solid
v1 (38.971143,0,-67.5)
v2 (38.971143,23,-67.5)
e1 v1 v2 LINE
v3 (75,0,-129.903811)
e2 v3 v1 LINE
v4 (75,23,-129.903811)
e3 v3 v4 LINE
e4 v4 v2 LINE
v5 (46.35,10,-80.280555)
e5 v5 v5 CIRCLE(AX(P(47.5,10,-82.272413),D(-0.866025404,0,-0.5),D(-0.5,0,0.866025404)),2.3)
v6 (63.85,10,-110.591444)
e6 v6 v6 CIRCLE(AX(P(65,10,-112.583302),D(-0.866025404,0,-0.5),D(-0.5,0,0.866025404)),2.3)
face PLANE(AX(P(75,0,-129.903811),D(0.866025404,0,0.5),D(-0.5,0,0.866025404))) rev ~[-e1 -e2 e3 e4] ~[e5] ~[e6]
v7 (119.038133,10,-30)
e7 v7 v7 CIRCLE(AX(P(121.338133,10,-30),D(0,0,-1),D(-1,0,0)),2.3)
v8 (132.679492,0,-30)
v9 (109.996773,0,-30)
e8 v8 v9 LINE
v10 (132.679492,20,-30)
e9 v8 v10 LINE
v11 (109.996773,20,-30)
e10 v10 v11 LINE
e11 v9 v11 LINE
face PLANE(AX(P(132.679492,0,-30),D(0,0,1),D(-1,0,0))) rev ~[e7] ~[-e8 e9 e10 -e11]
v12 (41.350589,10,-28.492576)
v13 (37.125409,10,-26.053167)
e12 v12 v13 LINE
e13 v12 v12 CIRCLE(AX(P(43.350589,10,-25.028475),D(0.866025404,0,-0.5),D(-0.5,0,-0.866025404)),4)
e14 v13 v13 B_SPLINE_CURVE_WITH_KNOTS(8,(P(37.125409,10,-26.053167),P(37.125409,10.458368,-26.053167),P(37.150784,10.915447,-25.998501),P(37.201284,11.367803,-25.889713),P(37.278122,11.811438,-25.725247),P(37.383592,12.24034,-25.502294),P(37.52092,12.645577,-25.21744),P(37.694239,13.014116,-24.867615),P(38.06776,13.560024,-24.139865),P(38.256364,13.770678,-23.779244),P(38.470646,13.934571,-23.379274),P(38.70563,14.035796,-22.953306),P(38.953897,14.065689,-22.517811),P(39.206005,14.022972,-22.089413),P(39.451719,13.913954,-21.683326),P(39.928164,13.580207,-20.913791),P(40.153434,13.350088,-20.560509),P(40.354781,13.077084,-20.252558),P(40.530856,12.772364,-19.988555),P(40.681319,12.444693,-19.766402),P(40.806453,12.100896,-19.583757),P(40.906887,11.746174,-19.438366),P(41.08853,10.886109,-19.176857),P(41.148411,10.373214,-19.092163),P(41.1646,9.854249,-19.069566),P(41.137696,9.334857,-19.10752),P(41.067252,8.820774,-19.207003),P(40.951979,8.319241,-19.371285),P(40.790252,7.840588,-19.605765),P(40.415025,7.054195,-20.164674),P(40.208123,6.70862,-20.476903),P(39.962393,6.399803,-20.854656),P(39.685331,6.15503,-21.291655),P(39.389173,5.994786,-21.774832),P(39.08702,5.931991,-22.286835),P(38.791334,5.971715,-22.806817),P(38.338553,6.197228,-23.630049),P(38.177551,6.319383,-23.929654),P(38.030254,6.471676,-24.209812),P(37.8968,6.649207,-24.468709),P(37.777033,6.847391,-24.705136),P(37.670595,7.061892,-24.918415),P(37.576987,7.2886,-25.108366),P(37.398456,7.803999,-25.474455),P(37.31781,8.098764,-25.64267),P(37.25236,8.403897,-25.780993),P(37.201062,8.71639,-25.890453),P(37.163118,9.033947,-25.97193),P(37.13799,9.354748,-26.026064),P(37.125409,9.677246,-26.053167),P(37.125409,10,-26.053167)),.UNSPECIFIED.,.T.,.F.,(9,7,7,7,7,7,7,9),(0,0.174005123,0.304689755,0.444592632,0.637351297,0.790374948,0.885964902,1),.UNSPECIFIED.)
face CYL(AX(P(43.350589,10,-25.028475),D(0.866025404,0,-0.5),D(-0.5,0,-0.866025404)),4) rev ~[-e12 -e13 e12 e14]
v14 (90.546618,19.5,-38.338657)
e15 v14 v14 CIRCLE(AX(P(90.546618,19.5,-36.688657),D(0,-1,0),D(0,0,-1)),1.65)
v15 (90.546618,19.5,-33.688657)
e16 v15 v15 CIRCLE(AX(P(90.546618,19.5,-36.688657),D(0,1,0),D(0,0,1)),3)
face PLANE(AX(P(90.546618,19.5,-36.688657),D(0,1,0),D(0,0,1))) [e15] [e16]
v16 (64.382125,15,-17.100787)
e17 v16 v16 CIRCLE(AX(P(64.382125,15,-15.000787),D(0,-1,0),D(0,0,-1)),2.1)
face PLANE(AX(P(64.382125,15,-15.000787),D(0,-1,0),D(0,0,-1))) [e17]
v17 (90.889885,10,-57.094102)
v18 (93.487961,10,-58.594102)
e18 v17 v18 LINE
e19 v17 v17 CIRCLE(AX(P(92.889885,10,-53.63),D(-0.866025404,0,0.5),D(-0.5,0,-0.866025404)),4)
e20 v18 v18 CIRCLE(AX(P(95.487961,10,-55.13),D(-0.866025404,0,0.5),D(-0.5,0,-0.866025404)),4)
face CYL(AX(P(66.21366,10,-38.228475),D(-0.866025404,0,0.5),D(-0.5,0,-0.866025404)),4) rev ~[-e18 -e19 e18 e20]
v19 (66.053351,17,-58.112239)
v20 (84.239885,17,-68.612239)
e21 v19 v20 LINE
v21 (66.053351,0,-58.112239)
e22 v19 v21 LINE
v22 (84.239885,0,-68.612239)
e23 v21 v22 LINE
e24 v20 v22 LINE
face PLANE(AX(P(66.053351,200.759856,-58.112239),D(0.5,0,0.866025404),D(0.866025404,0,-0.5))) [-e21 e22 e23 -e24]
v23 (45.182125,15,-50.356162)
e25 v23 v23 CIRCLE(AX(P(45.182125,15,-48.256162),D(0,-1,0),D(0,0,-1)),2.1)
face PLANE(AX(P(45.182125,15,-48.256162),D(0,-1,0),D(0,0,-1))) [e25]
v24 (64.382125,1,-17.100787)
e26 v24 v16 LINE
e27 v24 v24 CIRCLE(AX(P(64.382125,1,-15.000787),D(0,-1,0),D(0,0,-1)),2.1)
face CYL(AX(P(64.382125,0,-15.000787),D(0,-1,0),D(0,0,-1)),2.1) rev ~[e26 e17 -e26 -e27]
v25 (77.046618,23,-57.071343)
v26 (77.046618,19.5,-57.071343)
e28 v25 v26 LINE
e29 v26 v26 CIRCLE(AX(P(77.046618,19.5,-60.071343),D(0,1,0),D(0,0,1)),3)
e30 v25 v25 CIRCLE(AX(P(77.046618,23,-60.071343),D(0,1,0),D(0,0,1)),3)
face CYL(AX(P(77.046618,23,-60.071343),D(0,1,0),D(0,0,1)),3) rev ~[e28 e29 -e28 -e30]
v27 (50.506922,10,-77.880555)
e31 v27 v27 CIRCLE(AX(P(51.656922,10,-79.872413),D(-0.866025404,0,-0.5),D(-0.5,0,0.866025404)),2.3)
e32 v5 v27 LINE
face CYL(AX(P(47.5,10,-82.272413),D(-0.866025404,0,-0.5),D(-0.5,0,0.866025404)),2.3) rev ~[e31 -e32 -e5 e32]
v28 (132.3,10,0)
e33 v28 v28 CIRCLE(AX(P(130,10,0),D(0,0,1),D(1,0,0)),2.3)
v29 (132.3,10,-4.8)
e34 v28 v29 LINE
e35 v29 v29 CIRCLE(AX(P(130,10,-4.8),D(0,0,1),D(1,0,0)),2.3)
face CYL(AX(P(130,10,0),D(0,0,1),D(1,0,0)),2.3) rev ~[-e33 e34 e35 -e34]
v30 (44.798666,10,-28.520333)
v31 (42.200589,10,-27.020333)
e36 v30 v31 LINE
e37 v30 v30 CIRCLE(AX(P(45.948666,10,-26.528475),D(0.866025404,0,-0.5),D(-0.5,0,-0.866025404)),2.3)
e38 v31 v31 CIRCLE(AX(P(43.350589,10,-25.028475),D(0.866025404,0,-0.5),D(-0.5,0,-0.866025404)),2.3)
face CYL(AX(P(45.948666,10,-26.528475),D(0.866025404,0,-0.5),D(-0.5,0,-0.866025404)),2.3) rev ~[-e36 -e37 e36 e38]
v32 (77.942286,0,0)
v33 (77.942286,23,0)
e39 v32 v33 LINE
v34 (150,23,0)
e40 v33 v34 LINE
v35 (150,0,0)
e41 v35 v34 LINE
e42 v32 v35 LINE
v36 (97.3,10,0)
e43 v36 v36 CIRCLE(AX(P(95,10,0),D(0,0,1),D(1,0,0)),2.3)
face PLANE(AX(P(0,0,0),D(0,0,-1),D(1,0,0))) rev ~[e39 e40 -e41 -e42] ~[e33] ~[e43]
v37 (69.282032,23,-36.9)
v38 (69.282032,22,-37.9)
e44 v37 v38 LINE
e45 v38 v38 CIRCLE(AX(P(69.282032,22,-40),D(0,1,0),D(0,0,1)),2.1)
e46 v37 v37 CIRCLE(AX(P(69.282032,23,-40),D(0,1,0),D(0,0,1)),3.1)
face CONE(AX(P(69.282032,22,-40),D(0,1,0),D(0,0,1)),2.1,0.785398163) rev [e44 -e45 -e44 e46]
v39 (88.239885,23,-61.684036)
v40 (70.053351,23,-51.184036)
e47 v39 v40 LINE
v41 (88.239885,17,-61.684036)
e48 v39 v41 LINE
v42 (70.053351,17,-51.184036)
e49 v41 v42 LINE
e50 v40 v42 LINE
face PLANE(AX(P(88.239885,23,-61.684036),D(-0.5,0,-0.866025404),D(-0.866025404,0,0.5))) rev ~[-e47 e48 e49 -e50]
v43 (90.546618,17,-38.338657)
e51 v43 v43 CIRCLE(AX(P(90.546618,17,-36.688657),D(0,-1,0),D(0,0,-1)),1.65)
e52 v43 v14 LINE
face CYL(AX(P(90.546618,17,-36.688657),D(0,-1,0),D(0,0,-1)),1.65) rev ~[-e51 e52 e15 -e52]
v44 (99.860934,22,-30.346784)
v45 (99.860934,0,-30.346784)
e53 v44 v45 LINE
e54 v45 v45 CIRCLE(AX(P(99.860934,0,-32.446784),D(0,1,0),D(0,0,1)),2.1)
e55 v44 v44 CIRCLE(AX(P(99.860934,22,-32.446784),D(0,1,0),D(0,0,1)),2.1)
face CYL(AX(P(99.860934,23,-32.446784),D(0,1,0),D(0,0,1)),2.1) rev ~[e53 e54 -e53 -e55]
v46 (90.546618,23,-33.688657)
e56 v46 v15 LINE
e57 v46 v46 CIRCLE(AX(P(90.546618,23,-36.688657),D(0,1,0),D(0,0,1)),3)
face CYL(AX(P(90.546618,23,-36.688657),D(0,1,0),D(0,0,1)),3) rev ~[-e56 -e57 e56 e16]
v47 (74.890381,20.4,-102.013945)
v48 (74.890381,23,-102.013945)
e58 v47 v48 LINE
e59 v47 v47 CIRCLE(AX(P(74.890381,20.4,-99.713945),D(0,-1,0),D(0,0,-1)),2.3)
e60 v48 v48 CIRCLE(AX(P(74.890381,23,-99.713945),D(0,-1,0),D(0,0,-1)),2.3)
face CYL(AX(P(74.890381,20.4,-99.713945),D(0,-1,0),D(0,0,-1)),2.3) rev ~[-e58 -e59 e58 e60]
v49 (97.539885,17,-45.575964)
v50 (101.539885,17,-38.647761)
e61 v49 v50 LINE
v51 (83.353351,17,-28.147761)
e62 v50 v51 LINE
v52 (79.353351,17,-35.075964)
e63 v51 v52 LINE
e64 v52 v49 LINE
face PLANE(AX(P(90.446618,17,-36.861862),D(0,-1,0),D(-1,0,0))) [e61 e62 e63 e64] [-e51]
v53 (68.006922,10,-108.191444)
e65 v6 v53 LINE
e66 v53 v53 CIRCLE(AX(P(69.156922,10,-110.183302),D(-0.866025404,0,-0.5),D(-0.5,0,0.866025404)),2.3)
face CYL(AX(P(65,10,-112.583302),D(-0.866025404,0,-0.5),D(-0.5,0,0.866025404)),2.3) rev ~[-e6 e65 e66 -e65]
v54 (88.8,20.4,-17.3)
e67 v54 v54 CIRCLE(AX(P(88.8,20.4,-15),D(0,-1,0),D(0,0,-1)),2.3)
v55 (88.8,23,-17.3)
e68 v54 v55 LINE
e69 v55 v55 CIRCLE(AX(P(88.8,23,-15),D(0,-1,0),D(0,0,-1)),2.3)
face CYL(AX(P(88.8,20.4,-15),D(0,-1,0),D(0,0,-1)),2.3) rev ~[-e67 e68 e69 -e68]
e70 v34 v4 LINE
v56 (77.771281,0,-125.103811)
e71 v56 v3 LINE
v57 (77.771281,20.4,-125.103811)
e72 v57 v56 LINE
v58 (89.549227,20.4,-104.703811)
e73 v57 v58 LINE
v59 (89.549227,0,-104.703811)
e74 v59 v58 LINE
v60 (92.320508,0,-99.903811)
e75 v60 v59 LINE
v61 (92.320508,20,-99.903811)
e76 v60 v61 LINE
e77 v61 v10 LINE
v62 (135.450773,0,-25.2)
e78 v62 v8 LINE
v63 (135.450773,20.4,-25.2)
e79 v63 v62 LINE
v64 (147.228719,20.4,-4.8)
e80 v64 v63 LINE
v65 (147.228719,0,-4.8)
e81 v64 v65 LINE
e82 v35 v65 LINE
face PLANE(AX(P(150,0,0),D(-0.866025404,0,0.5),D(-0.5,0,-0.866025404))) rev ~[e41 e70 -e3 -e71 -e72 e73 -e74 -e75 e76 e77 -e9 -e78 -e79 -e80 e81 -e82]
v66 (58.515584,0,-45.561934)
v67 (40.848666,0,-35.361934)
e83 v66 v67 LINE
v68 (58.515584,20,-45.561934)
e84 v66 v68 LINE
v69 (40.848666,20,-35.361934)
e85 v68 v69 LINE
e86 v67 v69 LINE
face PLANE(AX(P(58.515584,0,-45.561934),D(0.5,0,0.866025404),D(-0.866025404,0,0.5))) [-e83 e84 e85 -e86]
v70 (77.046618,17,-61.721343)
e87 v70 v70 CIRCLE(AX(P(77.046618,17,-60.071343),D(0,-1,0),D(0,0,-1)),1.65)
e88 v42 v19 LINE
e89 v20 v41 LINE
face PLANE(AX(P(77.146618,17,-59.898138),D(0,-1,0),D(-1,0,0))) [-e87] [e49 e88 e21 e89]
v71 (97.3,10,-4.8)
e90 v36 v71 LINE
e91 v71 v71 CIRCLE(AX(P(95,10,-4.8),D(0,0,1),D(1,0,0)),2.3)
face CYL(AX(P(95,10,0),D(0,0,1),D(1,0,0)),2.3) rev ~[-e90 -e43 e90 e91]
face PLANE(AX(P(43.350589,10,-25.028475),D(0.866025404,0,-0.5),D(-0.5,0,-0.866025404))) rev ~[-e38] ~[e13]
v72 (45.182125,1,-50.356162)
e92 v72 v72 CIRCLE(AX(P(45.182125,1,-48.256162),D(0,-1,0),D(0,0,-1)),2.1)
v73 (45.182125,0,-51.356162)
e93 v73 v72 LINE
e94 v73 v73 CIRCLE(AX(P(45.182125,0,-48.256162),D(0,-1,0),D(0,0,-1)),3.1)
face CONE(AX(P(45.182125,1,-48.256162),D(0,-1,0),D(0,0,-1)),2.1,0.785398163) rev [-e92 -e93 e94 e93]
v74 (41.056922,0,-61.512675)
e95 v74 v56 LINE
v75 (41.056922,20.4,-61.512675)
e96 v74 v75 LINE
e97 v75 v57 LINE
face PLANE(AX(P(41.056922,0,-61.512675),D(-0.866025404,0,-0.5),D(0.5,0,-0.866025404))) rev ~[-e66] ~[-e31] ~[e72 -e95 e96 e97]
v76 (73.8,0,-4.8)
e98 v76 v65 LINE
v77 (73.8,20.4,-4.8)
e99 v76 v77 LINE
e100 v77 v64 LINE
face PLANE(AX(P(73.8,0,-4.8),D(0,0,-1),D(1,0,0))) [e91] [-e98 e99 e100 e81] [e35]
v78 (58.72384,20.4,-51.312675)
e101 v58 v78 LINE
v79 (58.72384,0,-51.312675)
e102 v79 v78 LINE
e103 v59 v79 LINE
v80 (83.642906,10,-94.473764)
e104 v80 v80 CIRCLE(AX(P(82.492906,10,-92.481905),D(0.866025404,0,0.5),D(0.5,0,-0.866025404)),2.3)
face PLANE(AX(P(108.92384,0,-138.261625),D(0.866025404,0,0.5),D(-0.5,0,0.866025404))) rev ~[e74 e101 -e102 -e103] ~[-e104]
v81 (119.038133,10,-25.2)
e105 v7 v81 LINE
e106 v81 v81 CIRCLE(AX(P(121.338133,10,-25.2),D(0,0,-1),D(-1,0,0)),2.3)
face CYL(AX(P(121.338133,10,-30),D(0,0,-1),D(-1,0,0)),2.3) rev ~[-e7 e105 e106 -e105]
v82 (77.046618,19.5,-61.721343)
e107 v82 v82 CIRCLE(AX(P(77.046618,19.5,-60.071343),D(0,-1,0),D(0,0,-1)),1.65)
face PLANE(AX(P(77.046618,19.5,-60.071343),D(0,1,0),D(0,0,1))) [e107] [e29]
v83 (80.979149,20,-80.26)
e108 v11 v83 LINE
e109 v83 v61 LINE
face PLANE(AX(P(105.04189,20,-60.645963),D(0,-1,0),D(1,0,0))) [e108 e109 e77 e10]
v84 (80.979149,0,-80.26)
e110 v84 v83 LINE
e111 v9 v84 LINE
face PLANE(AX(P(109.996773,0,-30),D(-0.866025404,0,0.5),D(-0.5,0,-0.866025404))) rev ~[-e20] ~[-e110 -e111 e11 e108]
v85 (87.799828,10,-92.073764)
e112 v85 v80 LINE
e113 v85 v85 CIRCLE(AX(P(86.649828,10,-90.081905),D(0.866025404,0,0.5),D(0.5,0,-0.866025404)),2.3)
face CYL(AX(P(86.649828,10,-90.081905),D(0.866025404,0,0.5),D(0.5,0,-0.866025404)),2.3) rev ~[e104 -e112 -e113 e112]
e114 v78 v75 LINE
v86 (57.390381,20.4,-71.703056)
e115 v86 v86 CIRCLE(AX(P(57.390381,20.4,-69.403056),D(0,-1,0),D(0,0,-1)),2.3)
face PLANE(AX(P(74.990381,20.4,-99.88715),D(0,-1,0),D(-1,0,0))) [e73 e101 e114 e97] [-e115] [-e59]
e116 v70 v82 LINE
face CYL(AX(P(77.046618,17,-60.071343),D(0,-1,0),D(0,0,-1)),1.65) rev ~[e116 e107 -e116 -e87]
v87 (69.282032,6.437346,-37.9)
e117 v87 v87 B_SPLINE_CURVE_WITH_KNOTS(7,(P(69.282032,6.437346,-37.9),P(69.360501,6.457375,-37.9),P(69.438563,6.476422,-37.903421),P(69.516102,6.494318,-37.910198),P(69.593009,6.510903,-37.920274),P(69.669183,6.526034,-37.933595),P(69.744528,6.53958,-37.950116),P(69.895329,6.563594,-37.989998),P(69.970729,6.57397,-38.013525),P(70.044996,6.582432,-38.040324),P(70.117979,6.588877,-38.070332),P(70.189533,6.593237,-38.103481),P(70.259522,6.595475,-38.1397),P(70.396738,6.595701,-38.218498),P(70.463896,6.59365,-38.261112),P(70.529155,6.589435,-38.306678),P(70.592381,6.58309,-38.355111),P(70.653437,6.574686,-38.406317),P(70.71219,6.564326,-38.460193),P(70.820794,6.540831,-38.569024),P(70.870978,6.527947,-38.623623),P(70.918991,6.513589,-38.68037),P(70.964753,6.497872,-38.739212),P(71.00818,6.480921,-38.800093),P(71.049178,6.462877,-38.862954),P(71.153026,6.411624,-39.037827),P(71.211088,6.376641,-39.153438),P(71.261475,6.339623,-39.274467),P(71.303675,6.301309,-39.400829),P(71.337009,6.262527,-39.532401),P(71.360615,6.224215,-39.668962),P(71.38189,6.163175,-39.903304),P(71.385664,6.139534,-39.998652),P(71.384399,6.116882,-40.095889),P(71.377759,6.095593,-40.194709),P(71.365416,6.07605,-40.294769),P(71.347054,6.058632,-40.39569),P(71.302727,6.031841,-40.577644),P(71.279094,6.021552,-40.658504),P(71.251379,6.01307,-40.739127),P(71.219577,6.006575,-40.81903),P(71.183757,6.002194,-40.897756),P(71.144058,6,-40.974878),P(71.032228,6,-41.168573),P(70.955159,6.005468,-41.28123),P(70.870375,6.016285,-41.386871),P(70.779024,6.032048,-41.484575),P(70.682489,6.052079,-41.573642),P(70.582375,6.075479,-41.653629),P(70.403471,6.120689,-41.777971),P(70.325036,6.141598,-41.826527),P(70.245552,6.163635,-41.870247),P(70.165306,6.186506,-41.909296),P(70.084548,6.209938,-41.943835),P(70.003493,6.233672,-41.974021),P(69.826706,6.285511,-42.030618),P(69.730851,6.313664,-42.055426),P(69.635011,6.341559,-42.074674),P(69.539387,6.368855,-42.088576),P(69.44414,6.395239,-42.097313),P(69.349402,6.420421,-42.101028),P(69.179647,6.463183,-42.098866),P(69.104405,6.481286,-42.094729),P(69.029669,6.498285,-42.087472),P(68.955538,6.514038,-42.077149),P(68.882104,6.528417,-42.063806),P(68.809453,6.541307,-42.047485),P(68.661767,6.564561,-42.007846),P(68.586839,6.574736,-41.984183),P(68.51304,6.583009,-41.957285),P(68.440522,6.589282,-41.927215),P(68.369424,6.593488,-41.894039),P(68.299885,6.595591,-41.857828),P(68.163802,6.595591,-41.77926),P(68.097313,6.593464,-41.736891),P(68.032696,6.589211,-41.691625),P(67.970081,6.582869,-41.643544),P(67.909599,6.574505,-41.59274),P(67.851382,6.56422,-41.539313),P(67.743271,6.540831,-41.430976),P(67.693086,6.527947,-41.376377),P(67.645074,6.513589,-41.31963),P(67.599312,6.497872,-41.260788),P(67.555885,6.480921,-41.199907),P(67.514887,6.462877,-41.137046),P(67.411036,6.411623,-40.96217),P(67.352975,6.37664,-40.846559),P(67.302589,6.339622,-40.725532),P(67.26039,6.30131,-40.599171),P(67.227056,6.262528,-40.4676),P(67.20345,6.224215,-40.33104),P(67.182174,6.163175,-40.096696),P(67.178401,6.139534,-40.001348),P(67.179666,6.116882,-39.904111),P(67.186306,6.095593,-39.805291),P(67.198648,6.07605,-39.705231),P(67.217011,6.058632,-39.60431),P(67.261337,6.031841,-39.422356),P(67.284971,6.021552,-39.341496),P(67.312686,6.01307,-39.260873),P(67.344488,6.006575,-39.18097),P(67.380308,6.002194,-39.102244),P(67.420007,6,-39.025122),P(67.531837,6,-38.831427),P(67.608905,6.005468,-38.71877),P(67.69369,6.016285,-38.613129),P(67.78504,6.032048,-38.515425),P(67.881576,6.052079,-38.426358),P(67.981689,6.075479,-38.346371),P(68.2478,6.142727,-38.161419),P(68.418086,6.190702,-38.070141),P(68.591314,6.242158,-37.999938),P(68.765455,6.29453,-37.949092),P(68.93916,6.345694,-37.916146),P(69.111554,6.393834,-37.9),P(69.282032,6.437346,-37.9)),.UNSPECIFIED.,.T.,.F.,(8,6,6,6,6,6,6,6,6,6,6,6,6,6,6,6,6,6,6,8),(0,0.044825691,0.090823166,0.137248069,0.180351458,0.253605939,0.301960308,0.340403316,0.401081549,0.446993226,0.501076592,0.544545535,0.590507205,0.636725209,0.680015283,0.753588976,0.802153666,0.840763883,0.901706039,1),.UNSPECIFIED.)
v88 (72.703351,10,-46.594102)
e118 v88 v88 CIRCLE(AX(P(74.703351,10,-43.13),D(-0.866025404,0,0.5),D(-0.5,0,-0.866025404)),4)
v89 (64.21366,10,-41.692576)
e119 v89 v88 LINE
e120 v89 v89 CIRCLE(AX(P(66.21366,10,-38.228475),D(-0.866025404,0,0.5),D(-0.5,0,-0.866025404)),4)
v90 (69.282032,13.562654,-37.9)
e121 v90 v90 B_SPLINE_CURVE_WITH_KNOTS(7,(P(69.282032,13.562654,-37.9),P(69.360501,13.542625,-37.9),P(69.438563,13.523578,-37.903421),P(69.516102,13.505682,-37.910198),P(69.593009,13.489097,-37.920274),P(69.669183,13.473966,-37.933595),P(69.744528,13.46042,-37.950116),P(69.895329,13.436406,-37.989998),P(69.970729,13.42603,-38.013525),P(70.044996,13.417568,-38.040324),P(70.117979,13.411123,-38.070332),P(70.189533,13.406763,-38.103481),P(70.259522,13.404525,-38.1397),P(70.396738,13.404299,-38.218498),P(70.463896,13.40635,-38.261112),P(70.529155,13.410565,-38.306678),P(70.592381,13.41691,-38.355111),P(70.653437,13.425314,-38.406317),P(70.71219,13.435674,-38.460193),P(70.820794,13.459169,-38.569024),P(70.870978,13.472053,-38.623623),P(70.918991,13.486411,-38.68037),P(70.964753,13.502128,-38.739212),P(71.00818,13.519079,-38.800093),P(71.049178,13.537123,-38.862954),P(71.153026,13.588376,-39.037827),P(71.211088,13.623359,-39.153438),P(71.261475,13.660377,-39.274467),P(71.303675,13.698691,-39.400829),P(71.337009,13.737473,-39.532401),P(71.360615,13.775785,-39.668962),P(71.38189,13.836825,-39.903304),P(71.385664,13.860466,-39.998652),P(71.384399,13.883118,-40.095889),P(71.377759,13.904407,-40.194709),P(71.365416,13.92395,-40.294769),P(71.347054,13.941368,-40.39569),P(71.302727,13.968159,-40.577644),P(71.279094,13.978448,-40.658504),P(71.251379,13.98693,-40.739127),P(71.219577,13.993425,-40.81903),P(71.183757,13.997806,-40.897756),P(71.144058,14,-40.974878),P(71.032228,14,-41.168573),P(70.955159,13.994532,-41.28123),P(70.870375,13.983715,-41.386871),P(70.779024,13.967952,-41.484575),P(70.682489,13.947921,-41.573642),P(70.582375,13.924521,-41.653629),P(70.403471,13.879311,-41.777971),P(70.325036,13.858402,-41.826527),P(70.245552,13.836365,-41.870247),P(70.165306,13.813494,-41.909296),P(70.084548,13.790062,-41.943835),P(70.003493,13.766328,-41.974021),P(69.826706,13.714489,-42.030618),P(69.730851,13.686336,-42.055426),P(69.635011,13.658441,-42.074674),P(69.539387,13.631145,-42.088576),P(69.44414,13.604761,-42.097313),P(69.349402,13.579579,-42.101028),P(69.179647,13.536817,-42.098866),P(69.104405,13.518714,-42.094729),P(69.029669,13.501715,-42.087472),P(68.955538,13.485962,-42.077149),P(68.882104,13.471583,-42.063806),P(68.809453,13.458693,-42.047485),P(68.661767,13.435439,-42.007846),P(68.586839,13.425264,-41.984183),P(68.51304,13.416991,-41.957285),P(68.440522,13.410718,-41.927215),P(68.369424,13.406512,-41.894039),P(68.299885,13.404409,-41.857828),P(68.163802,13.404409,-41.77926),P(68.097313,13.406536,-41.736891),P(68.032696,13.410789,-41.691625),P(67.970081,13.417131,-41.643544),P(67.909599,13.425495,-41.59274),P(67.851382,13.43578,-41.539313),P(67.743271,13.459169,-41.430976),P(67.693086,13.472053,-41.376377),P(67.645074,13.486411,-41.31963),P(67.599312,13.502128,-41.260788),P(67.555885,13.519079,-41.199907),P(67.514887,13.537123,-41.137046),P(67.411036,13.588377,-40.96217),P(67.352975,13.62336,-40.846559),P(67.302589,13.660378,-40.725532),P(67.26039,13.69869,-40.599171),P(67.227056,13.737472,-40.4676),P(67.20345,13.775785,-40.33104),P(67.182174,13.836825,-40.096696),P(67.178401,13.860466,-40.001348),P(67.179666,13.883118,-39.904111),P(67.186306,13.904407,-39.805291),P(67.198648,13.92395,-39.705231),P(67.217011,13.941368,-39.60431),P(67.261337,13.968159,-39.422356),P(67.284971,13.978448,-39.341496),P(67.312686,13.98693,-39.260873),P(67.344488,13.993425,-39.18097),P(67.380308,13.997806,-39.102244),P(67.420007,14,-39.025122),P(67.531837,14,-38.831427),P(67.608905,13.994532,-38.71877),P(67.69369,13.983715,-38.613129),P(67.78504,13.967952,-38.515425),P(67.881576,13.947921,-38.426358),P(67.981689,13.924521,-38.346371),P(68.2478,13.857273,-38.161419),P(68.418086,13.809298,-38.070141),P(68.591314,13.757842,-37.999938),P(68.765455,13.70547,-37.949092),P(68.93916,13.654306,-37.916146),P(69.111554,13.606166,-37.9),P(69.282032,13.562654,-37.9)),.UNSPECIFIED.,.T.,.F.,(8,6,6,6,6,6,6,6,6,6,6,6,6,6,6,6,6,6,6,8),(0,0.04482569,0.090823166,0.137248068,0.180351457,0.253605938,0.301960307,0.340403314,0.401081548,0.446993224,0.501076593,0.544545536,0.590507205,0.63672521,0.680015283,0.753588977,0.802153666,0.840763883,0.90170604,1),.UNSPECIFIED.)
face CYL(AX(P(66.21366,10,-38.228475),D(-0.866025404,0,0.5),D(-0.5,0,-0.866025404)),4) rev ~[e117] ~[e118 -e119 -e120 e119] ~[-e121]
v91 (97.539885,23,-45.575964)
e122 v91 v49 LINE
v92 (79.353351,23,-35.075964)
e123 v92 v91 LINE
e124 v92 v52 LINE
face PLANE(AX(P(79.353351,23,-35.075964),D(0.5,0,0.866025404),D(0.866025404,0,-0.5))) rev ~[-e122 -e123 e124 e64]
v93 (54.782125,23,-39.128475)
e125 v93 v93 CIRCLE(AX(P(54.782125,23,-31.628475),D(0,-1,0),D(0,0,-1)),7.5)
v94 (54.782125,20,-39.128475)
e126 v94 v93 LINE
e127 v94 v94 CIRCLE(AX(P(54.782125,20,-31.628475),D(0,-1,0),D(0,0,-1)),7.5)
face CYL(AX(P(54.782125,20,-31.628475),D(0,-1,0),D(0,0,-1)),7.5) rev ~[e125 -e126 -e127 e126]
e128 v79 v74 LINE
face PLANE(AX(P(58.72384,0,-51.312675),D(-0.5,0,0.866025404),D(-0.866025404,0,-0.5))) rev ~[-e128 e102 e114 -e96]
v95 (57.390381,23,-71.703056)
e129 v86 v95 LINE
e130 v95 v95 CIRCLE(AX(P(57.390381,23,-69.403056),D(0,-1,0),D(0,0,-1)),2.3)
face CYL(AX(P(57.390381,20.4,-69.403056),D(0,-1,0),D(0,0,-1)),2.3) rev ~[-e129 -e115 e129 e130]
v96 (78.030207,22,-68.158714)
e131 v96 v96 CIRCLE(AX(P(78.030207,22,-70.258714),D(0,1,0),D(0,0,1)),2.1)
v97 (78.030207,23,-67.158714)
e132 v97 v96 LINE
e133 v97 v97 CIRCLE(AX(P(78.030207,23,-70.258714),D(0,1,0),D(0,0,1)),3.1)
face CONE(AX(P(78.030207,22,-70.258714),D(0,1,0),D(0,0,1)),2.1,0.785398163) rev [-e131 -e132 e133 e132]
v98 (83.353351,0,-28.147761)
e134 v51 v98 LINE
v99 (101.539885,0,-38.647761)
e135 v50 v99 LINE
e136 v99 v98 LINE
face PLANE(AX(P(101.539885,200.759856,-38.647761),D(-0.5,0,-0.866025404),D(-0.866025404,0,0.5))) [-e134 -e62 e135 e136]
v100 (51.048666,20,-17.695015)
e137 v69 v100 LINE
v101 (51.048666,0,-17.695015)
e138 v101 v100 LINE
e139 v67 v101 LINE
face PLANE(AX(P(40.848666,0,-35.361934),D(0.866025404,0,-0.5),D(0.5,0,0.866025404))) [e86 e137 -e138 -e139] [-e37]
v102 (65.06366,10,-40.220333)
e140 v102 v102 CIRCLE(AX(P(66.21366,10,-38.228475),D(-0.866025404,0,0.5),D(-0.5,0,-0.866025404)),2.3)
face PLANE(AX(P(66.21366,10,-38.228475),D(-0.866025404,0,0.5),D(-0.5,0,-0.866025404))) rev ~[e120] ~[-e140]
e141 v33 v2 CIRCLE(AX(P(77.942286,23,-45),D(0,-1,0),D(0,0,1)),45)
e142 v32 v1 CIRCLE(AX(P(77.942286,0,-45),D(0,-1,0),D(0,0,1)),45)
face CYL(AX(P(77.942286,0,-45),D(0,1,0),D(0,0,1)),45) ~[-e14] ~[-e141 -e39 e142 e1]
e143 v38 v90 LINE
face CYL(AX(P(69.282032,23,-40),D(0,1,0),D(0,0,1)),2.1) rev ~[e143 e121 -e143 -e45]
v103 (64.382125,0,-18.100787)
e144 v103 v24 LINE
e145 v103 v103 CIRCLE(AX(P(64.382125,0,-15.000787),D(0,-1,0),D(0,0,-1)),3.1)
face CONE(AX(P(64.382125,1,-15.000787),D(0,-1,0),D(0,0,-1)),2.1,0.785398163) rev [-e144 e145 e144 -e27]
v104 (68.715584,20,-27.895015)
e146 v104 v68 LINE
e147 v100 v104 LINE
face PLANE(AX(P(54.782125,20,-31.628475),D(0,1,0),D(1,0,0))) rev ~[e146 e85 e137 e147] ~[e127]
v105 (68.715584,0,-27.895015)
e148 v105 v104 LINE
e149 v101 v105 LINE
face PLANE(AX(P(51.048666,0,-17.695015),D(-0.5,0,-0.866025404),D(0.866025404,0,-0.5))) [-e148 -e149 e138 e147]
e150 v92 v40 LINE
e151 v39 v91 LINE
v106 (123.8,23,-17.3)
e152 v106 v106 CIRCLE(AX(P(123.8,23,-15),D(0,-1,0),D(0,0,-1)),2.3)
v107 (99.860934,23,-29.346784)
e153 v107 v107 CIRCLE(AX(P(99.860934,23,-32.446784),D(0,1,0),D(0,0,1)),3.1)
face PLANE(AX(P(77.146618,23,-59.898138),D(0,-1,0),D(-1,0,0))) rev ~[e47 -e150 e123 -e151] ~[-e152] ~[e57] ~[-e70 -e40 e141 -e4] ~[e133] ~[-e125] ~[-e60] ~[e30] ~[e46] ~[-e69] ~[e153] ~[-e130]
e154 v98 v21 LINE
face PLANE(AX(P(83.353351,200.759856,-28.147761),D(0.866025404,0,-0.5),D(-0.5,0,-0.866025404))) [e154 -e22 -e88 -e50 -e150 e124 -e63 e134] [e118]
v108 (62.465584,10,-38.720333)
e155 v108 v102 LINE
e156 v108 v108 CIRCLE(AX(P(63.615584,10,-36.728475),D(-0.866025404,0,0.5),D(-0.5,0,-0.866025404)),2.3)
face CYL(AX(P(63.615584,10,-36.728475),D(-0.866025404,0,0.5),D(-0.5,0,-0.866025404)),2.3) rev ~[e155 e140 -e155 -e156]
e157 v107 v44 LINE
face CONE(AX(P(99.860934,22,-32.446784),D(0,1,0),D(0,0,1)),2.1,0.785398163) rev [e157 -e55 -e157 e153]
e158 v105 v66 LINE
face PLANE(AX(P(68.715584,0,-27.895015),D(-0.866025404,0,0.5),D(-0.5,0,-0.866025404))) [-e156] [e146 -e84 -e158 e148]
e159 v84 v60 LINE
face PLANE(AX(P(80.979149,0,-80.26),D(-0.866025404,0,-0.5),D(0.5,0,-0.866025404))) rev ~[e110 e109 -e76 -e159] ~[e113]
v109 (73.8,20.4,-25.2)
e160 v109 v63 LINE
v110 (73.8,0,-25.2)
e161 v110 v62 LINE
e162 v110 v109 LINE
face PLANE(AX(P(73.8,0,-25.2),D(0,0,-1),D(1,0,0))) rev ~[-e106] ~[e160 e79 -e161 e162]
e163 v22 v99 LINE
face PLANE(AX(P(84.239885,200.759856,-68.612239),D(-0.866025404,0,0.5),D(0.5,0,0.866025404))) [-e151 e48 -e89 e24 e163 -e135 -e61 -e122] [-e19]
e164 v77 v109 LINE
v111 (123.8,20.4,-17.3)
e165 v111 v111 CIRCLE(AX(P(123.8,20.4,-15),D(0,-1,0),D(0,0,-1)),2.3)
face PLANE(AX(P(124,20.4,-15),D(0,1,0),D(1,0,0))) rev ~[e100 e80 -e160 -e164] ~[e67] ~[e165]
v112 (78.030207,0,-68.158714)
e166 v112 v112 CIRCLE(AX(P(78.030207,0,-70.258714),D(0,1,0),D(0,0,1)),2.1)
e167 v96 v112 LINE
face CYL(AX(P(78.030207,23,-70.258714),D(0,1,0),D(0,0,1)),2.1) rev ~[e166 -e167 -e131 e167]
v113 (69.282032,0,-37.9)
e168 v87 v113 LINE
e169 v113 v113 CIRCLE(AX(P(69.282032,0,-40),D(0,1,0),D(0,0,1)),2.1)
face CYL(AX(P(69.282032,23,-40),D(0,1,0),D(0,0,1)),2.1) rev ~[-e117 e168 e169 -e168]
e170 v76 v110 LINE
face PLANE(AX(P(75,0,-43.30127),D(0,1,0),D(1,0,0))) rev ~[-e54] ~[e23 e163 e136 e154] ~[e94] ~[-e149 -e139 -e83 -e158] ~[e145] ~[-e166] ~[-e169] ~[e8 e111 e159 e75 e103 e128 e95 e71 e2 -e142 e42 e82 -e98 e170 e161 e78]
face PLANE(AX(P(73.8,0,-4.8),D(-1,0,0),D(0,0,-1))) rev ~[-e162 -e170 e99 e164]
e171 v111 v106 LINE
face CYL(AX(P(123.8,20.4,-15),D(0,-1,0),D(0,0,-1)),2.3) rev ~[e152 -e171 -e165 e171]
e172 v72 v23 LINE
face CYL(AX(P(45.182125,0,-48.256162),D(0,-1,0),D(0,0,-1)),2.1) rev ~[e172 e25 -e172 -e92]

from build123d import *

# Parameters (mm, degrees)
BOSS_EXTRUDE1_DEPTH      = 23
SKETCH2_W                = 100.4
SKETCH2_H                = 20.4
CUT_EXTRUDE2_DEPTH       = 20.4
CUT_EXTRUDE3_DEPTH       = 20
SKETCH7_R                = 2.3
CUT_EXTRUDE6_DEPTH       = 10
SKETCH8_R                = 2.3
CUT_EXTRUDE7_DEPTH       = 10
FILLET3_R                = 45
CUT_EXTRUDE11_DEPTH      = 200.759855827
CUT_EXTRUDE11_DEPTH_BACK = 200.759855827
CUT_EXTRUDE10_DEPTH      = 20
SKETCH32_R               = 2.3
CUT_EXTRUDE18_DEPTH      = 10
SKETCH33_R               = 2.3
CUT_EXTRUDE19_DEPTH      = 10
SKETCH34_R               = 2.3
CUT_EXTRUDE20_DEPTH      = 149.465956609
SKETCH35_R               = 4
CUT_EXTRUDE21_DEPTH      = 152.333845776
SKETCH36_R               = 2.1
CUT_EXTRUDE22_DEPTH      = 200.759855838
SKETCH38_R               = 2.3
CUT_EXTRUDE24_DEPTH      = 10
BOSS_EXTRUDE2_DEPTH      = 6
SKETCH40_R               = 1.65
CUT_EXTRUDE25_DEPTH      = 200.158228561
SKETCH41_R               = 3
CUT_EXTRUDE26_DEPTH      = 3.5
SKETCH42_R               = 2.1
CUT_EXTRUDE27_DEPTH      = 200.759855838
CHAMFER2_SIZE            = 1
SKETCH43_R               = 2.1
CUT_EXTRUDE28_DEPTH      = 15
CHAMFER3_SIZE            = 1
SKETCH45_R               = 2.3
CUT_EXTRUDE29_DEPTH      = 130.123625221
SKETCH46_R               = 4
CUT_EXTRUDE30_DEPTH      = 127.307236488
SKETCH47_R               = 7.5
CUT_EXTRUDE31_DEPTH      = 10


with BuildPart() as part:
    # Sketch1 → Boss-Extrude1 (new body)
    with BuildSketch(Plane(origin=(0, 0, 0), x_dir=(1, 0, 0), z_dir=(0, 1, 0))):
        Polygon((0, 0), (150, 0), (75, 129.903810568), align=None)
    extrude(amount=BOSS_EXTRUDE1_DEPTH)

    # Sketch2 → Cut-Extrude2 (cut)
    with BuildSketch(Plane(origin=(0, 0, 0), x_dir=(1, 0, 0), z_dir=(0, 1, 0))):
        Polygon((108.923840175, 138.261625339), (58.723840175, 51.312674799), (41.056921938, 61.512674799), (91.256921938, 148.461625339), align=None)
        with Locations((124, 15)):
            Rectangle(SKETCH2_W, SKETCH2_H)
    extrude(amount=CUT_EXTRUDE2_DEPTH, mode=Mode.SUBTRACT)

    # Sketch4 → Cut-Extrude3 (cut)
    with BuildSketch(Plane(origin=(0, 0, 0), x_dir=(1, 0, 0), z_dir=(0, 1, 0))):
        Polygon((58.515583945, 45.561933634), (40.848665708, 35.361933634), (51.048665708, 17.695015397), (68.715583945, 27.895015397), align=None)
    extrude(amount=CUT_EXTRUDE3_DEPTH, mode=Mode.SUBTRACT)

    # Sketch7 → Cut-Extrude6 (cut)
    with BuildSketch(Plane(origin=(0, 0, 0), x_dir=(-0.4999999999999978, 0, 0.86602540378444), z_dir=(-0.86602540378444, 0, -0.4999999999999978))):
        with Locations((-130, 10)):
            Circle(SKETCH7_R)
        with Locations((-95, 10)):
            Circle(SKETCH7_R)
    extrude(amount=-CUT_EXTRUDE6_DEPTH, mode=Mode.SUBTRACT)

    # Sketch8 → Cut-Extrude7 (cut)
    with BuildSketch(Plane.XY):
        with Locations((130, 10)):
            Circle(SKETCH8_R)
        with Locations((95, 10)):
            Circle(SKETCH8_R)
    extrude(amount=-CUT_EXTRUDE7_DEPTH, mode=Mode.SUBTRACT)

    # Fillet3
    fillet3_edges = [part.edges().sort_by_distance(p)[0] for p in [
        (0, 11.5, 0),
    ]]
    fillet(fillet3_edges, radius=FILLET3_R)

    # Sketch22 → Cut-Extrude11 (cut, two sides: drawn at the far end of the back side and taken through both)
    with BuildSketch(Plane.XZ.offset(-CUT_EXTRUDE11_DEPTH_BACK)):
        Polygon((83.35335133, -28.147760515), (66.05335133, -58.112239485), (84.23988481, -68.612239485), (101.53988481, -38.647760515), align=None)
    extrude(amount=CUT_EXTRUDE11_DEPTH + CUT_EXTRUDE11_DEPTH_BACK, mode=Mode.SUBTRACT)

    # Sketch21 → Cut-Extrude10 (cut)
    with BuildSketch(Plane.XZ):
        Polygon((132.679491924, -30), (109.996773286, -30), (80.979148757, -80.26), (92.320508076, -99.903810568), align=None)
    extrude(amount=-CUT_EXTRUDE10_DEPTH, mode=Mode.SUBTRACT)

    # Sketch32 → Cut-Extrude18 (cut)
    with BuildSketch(Plane(origin=(0, 0, -30), x_dir=(-1, 0, 0), z_dir=(0, 0, -1))):
        with Locations((-121.338132605, 10)):
            Circle(SKETCH32_R)
    extrude(amount=-CUT_EXTRUDE18_DEPTH, mode=Mode.SUBTRACT)

    # Sketch33 → Cut-Extrude19 (cut)
    with BuildSketch(Plane(origin=(25.980762114, 0, 15), x_dir=(0.4999999999999997, 0, -0.8660254037844388), z_dir=(0.8660254037844389, 0, 0.49999999999999983))):
        with Locations((121.338132605, 10)):
            Circle(SKETCH33_R)
    extrude(amount=-CUT_EXTRUDE19_DEPTH, mode=Mode.SUBTRACT)

    # Sketch34 → Cut-Extrude20 (cut, through all)
    with BuildSketch(Plane(origin=(45.948665708, 0, -26.528474516), x_dir=(-0.5000000000000001, 0, -0.8660254037844386), z_dir=(0.8660254037844386, 0, -0.5000000000000001))):
        with Locations((0, 10)):
            Circle(SKETCH34_R)
    extrude(amount=-CUT_EXTRUDE20_DEPTH, mode=Mode.SUBTRACT)

    # Sketch35 → Cut-Extrude21 (cut, through all)
    with BuildSketch(Plane(origin=(43.350589497, 0, -25.028474516), x_dir=(-0.5000000000000001, 0, -0.8660254037844386), z_dir=(0.8660254037844386, 0, -0.5000000000000001))):
        with Locations((0, 10)):
            Circle(SKETCH35_R)
    extrude(amount=-CUT_EXTRUDE21_DEPTH, mode=Mode.SUBTRACT)

    # Sketch36 → Cut-Extrude22 (cut, through all)
    with BuildSketch(Plane(origin=(0, 23, 0), x_dir=(1, 0, 0), z_dir=(0, 1, 0))):
        with Locations(Location((69.282032303, 40, 0), (0, 0, 270))):
            Circle(SKETCH36_R)
    extrude(amount=-CUT_EXTRUDE22_DEPTH, mode=Mode.SUBTRACT)

    # Sketch38 → Cut-Extrude24 (cut)
    with BuildSketch(Plane.XZ.offset(-20.4)):
        with Locations(Location((88.8, -15, 0), (0, 0, 270))):
            Circle(SKETCH38_R)
        with Locations(Location((123.8, -15, 0), (0, 0, 270))):
            Circle(SKETCH38_R)
        with Locations(Location((57.390381057, -69.403055856, 0), (0, 0, 270))):
            Circle(SKETCH38_R)
        with Locations(Location((74.890381057, -99.713944989, 0), (0, 0, 270))):
            Circle(SKETCH38_R)
    extrude(amount=-CUT_EXTRUDE24_DEPTH, mode=Mode.SUBTRACT)

    # Sketch39 → Boss-Extrude2 (add)
    with BuildSketch(Plane(origin=(0, 23, 0), x_dir=(1, 0, 0), z_dir=(0, 1, 0))):
        Polygon((66.05335133, 58.112239485), (84.23988481, 68.612239485), (88.23988481, 61.684036255), (70.05335133, 51.184036255), align=None)
        Polygon((101.53988481, 38.647760515), (83.35335133, 28.147760515), (79.35335133, 35.075963745), (97.53988481, 45.575963745), align=None)
    extrude(amount=-BOSS_EXTRUDE2_DEPTH)

    # Sketch40 → Cut-Extrude25 (cut, through all)
    with BuildSketch(Plane.XZ.offset(-17)):
        with Locations(Location((90.54661807, -36.688657049, 0), (0, 0, 270))):
            Circle(SKETCH40_R)
        with Locations(Location((77.04661807, -60.071342951, 0), (0, 0, 270))):
            Circle(SKETCH40_R)
    extrude(amount=-CUT_EXTRUDE25_DEPTH, mode=Mode.SUBTRACT)

    # Sketch41 → Cut-Extrude26 (cut)
    with BuildSketch(Plane(origin=(0, 23, 0), x_dir=(1, 0, 0), z_dir=(0, 1, 0))):
        with Locations(Location((77.04661807, 60.071342951, 0), (0, 0, 270))):
            Circle(SKETCH41_R)
        with Locations(Location((90.54661807, 36.688657049, 0), (0, 0, 270))):
            Circle(SKETCH41_R)
    extrude(amount=-CUT_EXTRUDE26_DEPTH, mode=Mode.SUBTRACT)

    # Sketch42 → Cut-Extrude27 (cut, through all)
    with BuildSketch(Plane(origin=(0, 23, 0), x_dir=(1, 0, 0), z_dir=(0, 1, 0))):
        with Locations(Location((99.860934211, 32.446784409, 0), (0, 0, 270))):
            Circle(SKETCH42_R)
        with Locations(Location((78.030206675, 70.258713668, 0), (0, 0, 270))):
            Circle(SKETCH42_R)
    extrude(amount=-CUT_EXTRUDE27_DEPTH, mode=Mode.SUBTRACT)

    # Chamfer2
    chamfer2_edges = [part.edges().sort_by_distance(p)[0] for p in [
        (69.282032303, 23, -42.1),
        (99.860934211, 23, -34.546784409),
        (78.030206675, 23, -72.358713668),
    ]]
    chamfer(chamfer2_edges, length=CHAMFER2_SIZE)

    # Sketch43 → Cut-Extrude28 (cut)
    with BuildSketch(Plane.XZ):
        with Locations(Location((64.382124827, -15.000786763, 0), (0, 0, 270))):
            Circle(SKETCH43_R)
        with Locations(Location((45.182124827, -48.256162268, 0), (0, 0, 270))):
            Circle(SKETCH43_R)
    extrude(amount=-CUT_EXTRUDE28_DEPTH, mode=Mode.SUBTRACT)

    # Chamfer3
    chamfer3_edges = [part.edges().sort_by_distance(p)[0] for p in [
        (64.382124827, 0, -12.900786763),
        (45.182124827, 0, -46.156162268),
    ]]
    chamfer(chamfer3_edges, length=CHAMFER3_SIZE)

    # Sketch45 → Cut-Extrude29 (cut, through all)
    with BuildSketch(Plane(origin=(63.615583945, 0, -36.728474516), x_dir=(0.5, 0, 0.8660254037844386), z_dir=(-0.8660254037844387, 0, 0.5000000000000001))):
        with Locations(Location((0, 10, 0), (0, 0, 180))):
            Circle(SKETCH45_R)
    extrude(amount=-CUT_EXTRUDE29_DEPTH, mode=Mode.SUBTRACT)

    # Sketch46 → Cut-Extrude30 (cut, through all)
    with BuildSketch(Plane(origin=(66.213660157, 0, -38.228474516), x_dir=(0.5, 0, 0.8660254037844386), z_dir=(-0.8660254037844387, 0, 0.5000000000000001))):
        with Locations(Location((0, 10, 0), (0, 0, 180))):
            Circle(SKETCH46_R)
    extrude(amount=-CUT_EXTRUDE30_DEPTH, mode=Mode.SUBTRACT)

    # Sketch47 → Cut-Extrude31 (cut)
    with BuildSketch(Plane.XZ.offset(-20)):
        with Locations(Location((54.782124827, -31.628474516, 0), (0, 0, 270))):
            Circle(SKETCH47_R)
    extrude(amount=-CUT_EXTRUDE31_DEPTH, mode=Mode.SUBTRACT)


solid = part.part
